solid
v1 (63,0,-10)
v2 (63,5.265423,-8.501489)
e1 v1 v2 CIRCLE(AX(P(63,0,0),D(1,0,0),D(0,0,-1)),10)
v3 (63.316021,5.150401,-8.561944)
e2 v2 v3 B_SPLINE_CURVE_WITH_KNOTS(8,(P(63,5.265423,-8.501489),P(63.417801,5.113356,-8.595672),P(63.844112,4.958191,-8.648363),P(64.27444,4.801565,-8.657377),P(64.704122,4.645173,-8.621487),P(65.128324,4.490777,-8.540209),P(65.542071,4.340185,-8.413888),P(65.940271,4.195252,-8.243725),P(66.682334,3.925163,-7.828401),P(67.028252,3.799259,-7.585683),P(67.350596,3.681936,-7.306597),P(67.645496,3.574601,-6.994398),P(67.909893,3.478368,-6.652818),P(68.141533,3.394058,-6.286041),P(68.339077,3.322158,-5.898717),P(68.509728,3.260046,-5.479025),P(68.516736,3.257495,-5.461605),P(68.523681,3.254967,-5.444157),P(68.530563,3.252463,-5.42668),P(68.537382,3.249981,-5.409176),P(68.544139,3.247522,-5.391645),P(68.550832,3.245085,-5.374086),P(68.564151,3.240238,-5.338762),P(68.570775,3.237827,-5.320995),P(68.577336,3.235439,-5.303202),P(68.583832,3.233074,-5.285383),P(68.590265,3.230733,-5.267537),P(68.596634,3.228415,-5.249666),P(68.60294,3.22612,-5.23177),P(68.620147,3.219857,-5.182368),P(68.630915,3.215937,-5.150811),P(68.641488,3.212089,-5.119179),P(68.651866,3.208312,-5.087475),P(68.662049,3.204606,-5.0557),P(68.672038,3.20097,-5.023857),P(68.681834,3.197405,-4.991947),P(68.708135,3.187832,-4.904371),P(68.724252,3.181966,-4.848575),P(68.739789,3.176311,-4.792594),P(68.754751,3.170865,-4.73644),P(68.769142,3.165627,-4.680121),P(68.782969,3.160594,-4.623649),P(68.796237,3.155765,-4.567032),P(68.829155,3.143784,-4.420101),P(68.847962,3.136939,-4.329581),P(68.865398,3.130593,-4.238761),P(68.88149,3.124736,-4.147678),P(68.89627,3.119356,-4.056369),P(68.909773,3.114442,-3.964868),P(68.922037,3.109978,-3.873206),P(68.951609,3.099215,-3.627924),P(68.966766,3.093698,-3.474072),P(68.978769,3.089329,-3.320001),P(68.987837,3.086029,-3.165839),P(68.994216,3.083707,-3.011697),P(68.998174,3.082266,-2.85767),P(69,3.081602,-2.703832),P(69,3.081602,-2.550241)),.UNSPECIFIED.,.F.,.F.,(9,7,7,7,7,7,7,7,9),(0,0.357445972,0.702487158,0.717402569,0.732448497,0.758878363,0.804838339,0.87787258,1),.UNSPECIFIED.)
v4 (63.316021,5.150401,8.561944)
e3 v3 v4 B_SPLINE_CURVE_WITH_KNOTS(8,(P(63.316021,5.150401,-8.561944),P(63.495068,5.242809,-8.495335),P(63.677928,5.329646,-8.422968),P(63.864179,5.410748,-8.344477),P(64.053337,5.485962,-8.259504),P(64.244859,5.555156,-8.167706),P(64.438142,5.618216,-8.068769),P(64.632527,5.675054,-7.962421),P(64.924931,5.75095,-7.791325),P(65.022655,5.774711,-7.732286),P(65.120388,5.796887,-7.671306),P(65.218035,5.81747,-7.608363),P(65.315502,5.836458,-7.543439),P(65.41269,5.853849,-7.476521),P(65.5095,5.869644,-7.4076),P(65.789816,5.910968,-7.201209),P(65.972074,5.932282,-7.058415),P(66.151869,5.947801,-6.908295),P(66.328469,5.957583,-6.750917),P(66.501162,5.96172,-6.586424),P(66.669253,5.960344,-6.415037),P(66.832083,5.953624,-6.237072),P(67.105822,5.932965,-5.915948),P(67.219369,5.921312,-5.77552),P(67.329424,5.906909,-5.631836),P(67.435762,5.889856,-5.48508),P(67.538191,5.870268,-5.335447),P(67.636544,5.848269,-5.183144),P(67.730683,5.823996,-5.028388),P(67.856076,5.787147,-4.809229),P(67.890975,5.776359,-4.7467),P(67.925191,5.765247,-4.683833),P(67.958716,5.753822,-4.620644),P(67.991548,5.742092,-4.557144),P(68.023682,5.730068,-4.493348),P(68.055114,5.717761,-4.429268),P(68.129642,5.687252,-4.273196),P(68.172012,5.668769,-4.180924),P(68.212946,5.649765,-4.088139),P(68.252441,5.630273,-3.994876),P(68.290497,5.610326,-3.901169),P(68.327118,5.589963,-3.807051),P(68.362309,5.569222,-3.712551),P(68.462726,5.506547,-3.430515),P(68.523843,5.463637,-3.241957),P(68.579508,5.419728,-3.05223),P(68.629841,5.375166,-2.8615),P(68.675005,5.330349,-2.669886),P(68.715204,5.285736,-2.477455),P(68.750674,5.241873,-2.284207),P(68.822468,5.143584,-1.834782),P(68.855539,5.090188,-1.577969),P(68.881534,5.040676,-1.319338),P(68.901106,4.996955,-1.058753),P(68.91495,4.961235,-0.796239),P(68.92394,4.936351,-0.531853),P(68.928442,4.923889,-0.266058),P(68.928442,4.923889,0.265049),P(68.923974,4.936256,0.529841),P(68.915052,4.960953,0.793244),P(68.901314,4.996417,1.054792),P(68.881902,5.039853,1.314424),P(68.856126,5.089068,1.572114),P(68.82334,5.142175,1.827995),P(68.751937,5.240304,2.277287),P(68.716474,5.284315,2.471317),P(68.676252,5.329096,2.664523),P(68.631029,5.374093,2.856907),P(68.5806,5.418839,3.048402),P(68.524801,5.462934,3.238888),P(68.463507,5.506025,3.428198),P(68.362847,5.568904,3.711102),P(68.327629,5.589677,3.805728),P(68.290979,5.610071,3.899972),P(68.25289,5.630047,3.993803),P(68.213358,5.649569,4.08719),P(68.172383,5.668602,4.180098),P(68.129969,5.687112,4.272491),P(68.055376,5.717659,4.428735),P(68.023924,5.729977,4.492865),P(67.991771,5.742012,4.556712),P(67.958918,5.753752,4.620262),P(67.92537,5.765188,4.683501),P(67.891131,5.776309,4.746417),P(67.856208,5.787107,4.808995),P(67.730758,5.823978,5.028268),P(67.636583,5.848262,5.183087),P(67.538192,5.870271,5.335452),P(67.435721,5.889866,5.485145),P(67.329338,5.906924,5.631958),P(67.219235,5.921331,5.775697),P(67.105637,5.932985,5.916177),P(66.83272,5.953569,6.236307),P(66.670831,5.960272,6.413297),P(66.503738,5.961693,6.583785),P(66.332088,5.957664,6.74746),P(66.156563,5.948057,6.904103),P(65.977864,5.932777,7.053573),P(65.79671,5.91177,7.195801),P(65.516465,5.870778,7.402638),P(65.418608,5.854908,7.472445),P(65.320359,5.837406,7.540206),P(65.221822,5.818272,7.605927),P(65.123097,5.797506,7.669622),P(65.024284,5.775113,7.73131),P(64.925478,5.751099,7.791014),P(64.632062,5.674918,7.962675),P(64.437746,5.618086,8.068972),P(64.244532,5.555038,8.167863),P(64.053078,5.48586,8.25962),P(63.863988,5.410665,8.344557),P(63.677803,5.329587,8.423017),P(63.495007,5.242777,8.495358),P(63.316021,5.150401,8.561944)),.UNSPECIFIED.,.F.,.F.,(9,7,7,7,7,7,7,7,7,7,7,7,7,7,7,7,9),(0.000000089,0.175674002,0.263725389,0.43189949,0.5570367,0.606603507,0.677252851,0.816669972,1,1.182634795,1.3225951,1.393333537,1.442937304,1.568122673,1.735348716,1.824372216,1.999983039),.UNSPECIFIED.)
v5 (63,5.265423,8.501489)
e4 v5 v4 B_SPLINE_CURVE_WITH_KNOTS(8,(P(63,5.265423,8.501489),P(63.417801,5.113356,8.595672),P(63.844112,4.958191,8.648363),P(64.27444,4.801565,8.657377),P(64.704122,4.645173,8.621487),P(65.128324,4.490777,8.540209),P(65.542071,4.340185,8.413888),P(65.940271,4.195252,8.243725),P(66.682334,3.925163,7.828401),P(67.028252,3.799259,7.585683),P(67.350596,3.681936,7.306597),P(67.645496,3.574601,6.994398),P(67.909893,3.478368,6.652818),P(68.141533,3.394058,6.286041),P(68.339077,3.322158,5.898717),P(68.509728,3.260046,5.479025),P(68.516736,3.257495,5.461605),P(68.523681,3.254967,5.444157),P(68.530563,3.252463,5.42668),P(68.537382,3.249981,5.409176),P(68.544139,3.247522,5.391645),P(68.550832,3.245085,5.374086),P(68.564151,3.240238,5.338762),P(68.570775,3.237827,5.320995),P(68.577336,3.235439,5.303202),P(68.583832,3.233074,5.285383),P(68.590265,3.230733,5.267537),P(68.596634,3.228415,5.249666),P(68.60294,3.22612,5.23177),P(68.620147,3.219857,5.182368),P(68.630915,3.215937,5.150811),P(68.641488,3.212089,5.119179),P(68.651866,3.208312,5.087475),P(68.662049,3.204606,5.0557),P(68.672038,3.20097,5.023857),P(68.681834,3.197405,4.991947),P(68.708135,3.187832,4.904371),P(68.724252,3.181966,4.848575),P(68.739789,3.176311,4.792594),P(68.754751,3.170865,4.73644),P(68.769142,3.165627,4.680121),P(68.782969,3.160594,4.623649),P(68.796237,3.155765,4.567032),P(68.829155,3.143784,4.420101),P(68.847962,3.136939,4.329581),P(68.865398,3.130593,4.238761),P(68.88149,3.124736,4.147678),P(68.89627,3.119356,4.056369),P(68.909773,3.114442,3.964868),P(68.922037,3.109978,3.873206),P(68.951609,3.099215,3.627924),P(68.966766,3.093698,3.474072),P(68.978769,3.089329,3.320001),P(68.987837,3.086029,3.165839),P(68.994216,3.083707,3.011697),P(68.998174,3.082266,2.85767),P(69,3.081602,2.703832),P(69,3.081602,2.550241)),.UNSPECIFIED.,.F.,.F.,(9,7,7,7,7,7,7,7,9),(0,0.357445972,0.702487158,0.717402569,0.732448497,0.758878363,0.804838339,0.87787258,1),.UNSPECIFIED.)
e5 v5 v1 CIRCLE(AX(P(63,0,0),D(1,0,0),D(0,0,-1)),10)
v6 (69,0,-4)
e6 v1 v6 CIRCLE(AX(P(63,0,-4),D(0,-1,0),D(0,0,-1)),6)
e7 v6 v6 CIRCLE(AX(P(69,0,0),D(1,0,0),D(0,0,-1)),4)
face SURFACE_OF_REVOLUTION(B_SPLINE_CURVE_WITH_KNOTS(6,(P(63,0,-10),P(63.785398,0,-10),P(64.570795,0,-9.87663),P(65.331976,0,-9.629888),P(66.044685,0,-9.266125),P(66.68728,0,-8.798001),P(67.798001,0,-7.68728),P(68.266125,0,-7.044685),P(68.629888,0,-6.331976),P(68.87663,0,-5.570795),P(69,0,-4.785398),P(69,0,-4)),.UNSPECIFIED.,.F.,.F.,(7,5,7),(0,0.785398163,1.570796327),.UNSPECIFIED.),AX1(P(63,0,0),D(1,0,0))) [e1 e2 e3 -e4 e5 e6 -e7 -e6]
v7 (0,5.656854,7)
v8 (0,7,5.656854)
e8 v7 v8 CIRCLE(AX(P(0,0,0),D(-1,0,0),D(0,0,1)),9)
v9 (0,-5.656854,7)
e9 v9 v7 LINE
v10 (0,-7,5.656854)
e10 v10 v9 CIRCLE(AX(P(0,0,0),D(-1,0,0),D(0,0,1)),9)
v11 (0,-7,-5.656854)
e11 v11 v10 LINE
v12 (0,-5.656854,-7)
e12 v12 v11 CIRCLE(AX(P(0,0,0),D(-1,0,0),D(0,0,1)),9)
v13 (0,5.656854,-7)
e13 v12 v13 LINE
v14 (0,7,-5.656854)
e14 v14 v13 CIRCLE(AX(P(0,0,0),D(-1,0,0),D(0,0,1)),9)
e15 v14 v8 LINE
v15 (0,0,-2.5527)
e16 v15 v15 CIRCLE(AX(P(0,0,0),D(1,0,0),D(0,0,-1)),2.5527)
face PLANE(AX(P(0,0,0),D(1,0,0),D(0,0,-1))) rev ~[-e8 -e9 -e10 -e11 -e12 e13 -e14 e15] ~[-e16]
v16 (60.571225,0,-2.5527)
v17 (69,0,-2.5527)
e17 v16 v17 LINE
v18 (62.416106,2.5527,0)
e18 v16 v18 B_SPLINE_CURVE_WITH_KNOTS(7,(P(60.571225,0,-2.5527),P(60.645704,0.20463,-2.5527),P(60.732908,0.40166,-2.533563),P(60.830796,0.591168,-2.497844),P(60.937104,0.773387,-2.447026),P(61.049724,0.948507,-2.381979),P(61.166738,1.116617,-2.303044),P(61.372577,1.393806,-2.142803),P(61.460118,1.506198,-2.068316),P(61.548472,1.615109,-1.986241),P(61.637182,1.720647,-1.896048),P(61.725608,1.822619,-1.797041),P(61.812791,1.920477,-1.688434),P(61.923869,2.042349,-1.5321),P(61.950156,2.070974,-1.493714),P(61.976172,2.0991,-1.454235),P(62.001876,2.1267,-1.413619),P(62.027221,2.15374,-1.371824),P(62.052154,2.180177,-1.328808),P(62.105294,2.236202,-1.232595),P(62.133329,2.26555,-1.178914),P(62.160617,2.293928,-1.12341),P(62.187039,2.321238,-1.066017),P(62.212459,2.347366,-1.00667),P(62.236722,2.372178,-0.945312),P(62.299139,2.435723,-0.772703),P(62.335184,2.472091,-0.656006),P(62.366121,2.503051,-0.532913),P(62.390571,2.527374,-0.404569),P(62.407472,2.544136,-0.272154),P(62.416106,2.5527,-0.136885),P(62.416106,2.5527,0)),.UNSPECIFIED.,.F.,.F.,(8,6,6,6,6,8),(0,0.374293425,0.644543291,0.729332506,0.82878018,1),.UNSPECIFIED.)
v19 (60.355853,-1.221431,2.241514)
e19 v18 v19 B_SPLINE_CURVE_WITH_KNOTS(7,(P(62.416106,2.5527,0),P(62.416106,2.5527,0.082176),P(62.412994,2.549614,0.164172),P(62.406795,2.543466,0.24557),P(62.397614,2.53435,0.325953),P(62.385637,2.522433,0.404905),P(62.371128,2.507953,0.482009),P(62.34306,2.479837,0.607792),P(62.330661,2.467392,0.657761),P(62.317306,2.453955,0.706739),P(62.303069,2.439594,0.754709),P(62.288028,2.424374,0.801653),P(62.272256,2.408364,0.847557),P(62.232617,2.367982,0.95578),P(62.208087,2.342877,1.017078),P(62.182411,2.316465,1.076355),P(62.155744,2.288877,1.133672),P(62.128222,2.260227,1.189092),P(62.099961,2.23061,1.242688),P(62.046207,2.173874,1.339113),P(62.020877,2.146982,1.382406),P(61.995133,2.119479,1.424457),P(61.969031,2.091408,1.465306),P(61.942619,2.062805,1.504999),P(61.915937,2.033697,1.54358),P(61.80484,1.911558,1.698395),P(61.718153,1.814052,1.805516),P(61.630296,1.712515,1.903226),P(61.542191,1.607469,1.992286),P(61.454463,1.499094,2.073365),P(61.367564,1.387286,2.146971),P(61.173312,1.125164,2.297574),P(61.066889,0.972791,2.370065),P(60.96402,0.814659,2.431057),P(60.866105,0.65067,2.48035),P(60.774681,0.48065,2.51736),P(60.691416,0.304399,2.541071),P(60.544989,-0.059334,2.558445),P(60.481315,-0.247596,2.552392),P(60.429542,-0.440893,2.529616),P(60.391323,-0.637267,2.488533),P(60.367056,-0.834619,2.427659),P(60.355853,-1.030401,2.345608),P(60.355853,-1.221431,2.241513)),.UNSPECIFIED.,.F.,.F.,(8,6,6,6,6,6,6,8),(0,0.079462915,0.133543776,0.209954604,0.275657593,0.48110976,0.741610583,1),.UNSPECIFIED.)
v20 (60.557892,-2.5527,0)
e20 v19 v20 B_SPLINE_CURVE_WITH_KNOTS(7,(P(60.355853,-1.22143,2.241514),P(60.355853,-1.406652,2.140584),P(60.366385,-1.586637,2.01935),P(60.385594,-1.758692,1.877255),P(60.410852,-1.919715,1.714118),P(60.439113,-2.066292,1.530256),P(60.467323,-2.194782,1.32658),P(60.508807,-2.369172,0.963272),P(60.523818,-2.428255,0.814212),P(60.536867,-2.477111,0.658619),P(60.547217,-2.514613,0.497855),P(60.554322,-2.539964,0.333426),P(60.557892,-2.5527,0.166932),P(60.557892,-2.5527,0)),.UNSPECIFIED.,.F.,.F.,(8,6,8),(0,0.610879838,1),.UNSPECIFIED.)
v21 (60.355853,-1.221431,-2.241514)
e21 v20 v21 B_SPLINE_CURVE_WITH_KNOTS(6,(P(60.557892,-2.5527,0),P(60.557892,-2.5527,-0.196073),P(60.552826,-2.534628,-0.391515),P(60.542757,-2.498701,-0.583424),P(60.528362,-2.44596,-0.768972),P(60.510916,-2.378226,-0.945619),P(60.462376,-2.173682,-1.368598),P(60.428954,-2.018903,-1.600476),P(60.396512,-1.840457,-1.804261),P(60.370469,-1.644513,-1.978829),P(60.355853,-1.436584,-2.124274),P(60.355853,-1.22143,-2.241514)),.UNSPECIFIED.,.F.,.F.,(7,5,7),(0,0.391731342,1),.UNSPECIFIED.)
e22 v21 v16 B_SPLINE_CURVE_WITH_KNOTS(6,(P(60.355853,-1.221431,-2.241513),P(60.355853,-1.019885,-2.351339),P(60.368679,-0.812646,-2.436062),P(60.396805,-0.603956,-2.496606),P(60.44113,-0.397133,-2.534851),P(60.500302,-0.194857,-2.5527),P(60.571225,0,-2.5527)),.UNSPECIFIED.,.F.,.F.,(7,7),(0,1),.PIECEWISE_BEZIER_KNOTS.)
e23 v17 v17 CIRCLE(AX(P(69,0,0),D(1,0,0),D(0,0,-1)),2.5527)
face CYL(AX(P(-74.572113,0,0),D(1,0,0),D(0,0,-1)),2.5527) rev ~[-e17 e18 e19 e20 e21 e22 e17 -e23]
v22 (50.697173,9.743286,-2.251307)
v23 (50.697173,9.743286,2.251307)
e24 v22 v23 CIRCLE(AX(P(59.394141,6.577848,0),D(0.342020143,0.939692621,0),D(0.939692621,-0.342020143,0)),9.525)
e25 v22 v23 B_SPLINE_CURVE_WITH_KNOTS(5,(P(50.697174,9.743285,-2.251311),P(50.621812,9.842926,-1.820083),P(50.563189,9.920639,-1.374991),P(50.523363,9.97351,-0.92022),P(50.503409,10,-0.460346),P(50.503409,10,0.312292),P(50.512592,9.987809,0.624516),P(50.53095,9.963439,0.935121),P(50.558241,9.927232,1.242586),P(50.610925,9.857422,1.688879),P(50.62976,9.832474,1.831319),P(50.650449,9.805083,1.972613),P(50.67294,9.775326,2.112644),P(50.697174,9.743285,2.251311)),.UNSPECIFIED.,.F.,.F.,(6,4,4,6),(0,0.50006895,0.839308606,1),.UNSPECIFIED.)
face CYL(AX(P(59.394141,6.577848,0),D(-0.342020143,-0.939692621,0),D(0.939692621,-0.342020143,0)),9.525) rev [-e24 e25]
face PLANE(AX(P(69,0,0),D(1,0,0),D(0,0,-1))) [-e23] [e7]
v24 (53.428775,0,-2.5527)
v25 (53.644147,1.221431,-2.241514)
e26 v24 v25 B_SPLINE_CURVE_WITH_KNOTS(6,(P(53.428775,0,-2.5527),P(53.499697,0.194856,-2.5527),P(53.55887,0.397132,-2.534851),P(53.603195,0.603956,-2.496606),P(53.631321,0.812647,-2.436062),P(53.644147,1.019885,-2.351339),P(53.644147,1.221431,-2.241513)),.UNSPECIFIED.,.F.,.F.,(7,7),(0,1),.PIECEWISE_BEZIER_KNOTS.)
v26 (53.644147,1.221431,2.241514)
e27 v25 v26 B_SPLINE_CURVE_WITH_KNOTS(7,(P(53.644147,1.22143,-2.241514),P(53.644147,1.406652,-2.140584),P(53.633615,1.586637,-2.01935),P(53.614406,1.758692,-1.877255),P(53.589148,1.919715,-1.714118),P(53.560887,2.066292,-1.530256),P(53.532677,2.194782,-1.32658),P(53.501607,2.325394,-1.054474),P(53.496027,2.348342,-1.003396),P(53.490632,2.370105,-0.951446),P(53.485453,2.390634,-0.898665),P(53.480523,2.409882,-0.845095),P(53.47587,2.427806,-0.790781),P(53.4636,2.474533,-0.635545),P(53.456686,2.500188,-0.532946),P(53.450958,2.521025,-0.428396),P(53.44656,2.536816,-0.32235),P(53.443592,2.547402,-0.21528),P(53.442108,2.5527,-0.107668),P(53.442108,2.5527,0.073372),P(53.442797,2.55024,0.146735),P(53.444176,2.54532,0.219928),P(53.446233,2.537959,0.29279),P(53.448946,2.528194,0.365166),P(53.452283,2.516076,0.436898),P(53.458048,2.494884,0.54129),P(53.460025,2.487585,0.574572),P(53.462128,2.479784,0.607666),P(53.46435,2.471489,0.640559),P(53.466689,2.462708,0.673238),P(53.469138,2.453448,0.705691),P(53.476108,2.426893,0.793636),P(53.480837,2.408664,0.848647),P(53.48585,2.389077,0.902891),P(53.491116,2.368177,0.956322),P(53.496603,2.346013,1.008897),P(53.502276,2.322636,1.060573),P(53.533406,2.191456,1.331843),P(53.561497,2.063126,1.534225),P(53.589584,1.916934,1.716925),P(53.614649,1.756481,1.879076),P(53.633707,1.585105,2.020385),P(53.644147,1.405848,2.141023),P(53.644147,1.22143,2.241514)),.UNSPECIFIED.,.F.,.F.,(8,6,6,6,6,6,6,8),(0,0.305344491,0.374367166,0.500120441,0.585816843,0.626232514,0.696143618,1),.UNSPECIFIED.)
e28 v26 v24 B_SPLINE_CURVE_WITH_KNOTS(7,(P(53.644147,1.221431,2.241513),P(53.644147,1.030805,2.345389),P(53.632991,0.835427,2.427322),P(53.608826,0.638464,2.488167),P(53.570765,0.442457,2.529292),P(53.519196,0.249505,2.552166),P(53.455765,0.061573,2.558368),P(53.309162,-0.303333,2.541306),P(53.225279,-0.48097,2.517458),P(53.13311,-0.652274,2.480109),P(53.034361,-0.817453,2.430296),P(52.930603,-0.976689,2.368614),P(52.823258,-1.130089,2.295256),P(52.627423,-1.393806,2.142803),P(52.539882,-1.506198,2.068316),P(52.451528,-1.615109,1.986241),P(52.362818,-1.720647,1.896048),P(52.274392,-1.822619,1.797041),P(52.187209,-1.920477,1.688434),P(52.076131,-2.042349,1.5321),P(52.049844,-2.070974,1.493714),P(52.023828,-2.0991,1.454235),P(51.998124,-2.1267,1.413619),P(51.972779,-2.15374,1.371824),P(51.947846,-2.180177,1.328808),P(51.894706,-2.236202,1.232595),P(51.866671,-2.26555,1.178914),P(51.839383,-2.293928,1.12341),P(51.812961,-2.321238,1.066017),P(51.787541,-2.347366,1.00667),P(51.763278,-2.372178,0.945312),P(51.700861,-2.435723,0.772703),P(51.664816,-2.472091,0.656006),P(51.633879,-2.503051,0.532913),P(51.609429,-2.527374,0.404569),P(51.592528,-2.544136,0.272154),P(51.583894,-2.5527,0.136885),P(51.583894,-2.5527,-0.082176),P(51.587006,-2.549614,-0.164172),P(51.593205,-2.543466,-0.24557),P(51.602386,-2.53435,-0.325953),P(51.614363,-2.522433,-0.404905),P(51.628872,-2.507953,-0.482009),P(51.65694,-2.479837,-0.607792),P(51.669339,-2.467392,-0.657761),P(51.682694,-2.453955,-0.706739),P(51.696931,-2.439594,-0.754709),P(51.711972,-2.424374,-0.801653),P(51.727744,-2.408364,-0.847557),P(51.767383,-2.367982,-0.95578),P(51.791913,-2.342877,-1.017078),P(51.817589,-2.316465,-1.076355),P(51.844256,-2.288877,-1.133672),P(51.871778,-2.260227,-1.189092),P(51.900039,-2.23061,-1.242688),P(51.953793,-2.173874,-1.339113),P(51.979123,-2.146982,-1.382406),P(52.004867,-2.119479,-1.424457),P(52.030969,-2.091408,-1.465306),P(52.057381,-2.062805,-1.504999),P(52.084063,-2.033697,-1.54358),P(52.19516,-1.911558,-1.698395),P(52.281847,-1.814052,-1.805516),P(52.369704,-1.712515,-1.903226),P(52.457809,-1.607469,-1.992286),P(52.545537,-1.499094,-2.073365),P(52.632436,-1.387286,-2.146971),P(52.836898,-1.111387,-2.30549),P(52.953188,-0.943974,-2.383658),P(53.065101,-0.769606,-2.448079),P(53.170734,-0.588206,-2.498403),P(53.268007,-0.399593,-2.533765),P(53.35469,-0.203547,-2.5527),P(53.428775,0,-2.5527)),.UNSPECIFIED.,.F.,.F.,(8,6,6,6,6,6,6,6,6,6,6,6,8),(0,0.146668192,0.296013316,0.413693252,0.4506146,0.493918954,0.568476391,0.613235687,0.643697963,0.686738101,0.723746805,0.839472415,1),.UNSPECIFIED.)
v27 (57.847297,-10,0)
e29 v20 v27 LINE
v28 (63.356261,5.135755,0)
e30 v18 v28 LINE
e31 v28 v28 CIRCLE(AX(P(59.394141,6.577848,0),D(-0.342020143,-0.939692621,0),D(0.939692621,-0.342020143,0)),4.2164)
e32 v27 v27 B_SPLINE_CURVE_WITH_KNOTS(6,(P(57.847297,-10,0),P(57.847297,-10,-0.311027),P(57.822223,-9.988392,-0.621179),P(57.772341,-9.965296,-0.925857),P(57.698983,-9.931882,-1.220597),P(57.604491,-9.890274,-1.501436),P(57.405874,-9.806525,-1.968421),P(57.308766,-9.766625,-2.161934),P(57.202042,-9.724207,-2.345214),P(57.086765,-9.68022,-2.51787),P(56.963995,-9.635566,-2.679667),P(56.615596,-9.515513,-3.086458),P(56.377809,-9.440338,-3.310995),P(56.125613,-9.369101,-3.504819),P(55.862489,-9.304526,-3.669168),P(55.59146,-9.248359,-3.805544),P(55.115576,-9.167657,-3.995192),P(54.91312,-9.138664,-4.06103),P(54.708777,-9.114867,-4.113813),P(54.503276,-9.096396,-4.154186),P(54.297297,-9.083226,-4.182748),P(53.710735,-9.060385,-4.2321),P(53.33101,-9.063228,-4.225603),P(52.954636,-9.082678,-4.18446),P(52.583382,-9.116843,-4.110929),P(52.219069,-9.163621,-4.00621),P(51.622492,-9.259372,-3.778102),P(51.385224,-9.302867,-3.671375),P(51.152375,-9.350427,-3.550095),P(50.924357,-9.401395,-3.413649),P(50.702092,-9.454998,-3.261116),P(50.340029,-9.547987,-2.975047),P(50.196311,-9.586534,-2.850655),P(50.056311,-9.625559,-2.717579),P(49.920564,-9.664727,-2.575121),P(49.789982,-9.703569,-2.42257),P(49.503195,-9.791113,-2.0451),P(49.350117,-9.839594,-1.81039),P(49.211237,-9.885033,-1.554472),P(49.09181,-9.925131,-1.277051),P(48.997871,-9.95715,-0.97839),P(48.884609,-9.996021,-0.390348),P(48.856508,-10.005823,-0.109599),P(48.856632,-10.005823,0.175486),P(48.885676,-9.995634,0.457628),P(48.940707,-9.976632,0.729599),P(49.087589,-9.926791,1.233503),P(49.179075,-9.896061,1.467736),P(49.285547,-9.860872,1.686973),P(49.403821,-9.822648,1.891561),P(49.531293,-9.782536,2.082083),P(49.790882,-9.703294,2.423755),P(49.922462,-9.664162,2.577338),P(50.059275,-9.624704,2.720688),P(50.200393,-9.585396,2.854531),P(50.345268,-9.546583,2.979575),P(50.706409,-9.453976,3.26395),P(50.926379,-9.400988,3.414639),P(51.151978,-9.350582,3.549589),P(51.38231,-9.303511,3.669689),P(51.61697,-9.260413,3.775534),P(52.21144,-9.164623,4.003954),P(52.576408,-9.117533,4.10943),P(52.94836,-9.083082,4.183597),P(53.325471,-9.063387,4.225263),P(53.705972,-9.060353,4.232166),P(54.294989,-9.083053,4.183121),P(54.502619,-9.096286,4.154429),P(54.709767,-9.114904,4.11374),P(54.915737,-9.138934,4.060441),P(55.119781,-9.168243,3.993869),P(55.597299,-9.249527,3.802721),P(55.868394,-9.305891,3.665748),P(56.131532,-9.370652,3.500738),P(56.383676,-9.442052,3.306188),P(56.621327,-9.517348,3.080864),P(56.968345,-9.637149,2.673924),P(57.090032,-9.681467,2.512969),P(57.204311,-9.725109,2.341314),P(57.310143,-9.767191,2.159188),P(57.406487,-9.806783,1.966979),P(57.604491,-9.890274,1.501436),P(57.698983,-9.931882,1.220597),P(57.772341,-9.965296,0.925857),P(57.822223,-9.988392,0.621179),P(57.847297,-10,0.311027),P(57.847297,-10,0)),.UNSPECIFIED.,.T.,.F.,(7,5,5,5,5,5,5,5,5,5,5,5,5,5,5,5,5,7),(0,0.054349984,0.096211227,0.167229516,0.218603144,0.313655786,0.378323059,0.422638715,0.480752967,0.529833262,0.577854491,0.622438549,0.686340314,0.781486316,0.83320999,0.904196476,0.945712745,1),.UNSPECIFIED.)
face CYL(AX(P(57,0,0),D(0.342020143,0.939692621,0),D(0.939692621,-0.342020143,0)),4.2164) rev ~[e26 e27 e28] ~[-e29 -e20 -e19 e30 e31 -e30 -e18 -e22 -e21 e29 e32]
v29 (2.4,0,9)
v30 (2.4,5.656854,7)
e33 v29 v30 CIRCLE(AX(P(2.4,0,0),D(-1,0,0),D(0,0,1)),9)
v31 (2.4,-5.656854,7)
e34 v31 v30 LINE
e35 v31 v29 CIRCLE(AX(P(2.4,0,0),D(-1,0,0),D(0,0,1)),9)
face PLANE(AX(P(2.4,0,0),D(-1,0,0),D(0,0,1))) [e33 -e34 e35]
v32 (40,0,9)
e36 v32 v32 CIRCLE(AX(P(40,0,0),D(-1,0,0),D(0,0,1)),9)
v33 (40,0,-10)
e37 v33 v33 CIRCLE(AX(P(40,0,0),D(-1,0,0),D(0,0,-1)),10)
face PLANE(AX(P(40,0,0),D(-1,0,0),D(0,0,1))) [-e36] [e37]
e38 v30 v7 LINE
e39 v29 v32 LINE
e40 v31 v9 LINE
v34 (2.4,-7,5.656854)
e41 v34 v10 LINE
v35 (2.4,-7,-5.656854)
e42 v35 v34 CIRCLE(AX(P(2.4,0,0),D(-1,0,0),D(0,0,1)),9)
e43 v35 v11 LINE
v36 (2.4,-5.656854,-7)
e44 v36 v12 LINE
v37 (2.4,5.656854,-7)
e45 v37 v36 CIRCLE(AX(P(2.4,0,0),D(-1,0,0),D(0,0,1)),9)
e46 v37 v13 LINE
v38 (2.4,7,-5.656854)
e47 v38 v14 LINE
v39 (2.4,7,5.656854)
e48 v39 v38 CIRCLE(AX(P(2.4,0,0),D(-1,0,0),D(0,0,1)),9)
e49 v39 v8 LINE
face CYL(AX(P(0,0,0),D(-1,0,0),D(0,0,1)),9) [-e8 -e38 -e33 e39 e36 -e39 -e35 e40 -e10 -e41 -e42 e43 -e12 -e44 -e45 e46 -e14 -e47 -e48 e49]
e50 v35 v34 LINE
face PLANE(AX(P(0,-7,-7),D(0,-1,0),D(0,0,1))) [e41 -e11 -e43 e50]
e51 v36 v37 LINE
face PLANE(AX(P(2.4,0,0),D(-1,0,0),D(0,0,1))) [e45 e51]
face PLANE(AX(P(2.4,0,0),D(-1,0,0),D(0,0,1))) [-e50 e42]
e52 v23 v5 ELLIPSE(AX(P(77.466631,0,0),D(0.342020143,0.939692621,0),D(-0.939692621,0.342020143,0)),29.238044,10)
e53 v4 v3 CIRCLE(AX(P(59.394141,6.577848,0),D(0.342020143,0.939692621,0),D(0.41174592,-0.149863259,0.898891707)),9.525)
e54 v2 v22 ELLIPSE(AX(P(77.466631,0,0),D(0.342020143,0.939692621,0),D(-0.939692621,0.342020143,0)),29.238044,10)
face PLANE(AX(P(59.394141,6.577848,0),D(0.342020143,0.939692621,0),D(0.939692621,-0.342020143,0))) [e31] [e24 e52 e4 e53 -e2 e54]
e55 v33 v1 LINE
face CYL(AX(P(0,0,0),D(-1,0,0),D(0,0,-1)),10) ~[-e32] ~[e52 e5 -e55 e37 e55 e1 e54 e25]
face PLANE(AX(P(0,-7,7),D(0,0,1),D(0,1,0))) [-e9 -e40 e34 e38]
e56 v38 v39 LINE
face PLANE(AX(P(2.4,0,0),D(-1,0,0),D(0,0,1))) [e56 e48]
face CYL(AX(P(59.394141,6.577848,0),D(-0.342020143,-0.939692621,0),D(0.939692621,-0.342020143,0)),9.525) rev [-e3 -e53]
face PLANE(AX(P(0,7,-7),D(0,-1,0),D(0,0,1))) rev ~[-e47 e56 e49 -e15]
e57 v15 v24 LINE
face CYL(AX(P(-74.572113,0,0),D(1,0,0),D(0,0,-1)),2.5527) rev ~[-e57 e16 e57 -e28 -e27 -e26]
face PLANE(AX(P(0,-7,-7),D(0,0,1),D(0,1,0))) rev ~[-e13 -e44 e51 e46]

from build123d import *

# Parameters (mm, degrees)
SKETCH1_R               = 10
BOSS_EXTRUDE1_DEPTH     = 69
SKETCH9_OUTSIDE_W       = 36.914
SKETCH9_OUTSIDE_H       = 36.914
SKETCH9_OUTSIDE_R       = 9
CUT_EXTRUDE5_DEPTH      = 40
SKETCH2_OUTSIDE_W       = 36.914
SKETCH2_OUTSIDE_H       = 36.914
SKETCH2_OUTSIDE_W_2     = 14
SKETCH2_OUTSIDE_H_2     = 14
CUT_EXTRUDE1_DEPTH      = 2.4
F_1_4_20_TAPPED_HOLE1_D = 5.1054
FILLET2_R               = 6
CUT_EXTRUDE2_DEPTH      = 59.72818744
CUT_EXTRUDE2_DEPTH_BACK = 59.72818744
SKETCH7_R               = 4.2164
CUT_EXTRUDE3_START      = 7
SKETCH8_R               = 9.525
CUT_EXTRUDE3_DEPTH      = 52.728187572


with BuildPart() as part:
    # Sketch1 → Boss-Extrude1 (new body)
    with BuildSketch(Plane(origin=(0, 0, 0), x_dir=(0, 0, -1), z_dir=(1, 0, 0))):
        Circle(SKETCH1_R)
    extrude(amount=BOSS_EXTRUDE1_DEPTH)

    # Sketch9 outside → Cut-Extrude5 (cut)
    with BuildSketch(Plane.ZY):
        Rectangle(SKETCH9_OUTSIDE_W, SKETCH9_OUTSIDE_H)
        Circle(SKETCH9_OUTSIDE_R, mode=Mode.SUBTRACT)
    extrude(amount=-CUT_EXTRUDE5_DEPTH, mode=Mode.SUBTRACT)

    # Sketch2 outside → Cut-Extrude1 (cut)
    with BuildSketch(Plane.ZY):
        Rectangle(SKETCH2_OUTSIDE_W, SKETCH2_OUTSIDE_H)
        Rectangle(SKETCH2_OUTSIDE_W_2, SKETCH2_OUTSIDE_H_2, mode=Mode.SUBTRACT)
    extrude(amount=-CUT_EXTRUDE1_DEPTH, mode=Mode.SUBTRACT)

    # 1_4-20 Tapped Hole1 (through all)
    with Locations(Plane.ZY):
        with Locations((0, 0)):
            Hole(F_1_4_20_TAPPED_HOLE1_D / 2)

    # Fillet2
    fillet2_edges = [part.edges().sort_by_distance(p)[0] for p in [
        (69, 0, 10),
    ]]
    fillet(fillet2_edges, radius=FILLET2_R)

    # Sketch7 → Cut-Extrude2 (cut, two sides: drawn at the far end of the back side and taken through both)
    with BuildSketch(Plane(origin=(57, 0, 0), x_dir=(0.9396926207859094, -0.3420201433256659, 0), z_dir=(0.3420201433256659, 0.9396926207859094, 0)).offset(-CUT_EXTRUDE2_DEPTH_BACK)):
        Circle(SKETCH7_R)
    extrude(amount=CUT_EXTRUDE2_DEPTH + CUT_EXTRUDE2_DEPTH_BACK, mode=Mode.SUBTRACT)

    # Sketch8 → Cut-Extrude3 (cut, through all)
    with BuildSketch(Plane(origin=(57, 0, 0), x_dir=(0.9396926207859094, -0.3420201433256659, 0), z_dir=(0.3420201433256659, 0.9396926207859094, 0)).offset(CUT_EXTRUDE3_START)):
        Circle(SKETCH8_R)
    extrude(amount=CUT_EXTRUDE3_DEPTH, mode=Mode.SUBTRACT)


solid = part.part
